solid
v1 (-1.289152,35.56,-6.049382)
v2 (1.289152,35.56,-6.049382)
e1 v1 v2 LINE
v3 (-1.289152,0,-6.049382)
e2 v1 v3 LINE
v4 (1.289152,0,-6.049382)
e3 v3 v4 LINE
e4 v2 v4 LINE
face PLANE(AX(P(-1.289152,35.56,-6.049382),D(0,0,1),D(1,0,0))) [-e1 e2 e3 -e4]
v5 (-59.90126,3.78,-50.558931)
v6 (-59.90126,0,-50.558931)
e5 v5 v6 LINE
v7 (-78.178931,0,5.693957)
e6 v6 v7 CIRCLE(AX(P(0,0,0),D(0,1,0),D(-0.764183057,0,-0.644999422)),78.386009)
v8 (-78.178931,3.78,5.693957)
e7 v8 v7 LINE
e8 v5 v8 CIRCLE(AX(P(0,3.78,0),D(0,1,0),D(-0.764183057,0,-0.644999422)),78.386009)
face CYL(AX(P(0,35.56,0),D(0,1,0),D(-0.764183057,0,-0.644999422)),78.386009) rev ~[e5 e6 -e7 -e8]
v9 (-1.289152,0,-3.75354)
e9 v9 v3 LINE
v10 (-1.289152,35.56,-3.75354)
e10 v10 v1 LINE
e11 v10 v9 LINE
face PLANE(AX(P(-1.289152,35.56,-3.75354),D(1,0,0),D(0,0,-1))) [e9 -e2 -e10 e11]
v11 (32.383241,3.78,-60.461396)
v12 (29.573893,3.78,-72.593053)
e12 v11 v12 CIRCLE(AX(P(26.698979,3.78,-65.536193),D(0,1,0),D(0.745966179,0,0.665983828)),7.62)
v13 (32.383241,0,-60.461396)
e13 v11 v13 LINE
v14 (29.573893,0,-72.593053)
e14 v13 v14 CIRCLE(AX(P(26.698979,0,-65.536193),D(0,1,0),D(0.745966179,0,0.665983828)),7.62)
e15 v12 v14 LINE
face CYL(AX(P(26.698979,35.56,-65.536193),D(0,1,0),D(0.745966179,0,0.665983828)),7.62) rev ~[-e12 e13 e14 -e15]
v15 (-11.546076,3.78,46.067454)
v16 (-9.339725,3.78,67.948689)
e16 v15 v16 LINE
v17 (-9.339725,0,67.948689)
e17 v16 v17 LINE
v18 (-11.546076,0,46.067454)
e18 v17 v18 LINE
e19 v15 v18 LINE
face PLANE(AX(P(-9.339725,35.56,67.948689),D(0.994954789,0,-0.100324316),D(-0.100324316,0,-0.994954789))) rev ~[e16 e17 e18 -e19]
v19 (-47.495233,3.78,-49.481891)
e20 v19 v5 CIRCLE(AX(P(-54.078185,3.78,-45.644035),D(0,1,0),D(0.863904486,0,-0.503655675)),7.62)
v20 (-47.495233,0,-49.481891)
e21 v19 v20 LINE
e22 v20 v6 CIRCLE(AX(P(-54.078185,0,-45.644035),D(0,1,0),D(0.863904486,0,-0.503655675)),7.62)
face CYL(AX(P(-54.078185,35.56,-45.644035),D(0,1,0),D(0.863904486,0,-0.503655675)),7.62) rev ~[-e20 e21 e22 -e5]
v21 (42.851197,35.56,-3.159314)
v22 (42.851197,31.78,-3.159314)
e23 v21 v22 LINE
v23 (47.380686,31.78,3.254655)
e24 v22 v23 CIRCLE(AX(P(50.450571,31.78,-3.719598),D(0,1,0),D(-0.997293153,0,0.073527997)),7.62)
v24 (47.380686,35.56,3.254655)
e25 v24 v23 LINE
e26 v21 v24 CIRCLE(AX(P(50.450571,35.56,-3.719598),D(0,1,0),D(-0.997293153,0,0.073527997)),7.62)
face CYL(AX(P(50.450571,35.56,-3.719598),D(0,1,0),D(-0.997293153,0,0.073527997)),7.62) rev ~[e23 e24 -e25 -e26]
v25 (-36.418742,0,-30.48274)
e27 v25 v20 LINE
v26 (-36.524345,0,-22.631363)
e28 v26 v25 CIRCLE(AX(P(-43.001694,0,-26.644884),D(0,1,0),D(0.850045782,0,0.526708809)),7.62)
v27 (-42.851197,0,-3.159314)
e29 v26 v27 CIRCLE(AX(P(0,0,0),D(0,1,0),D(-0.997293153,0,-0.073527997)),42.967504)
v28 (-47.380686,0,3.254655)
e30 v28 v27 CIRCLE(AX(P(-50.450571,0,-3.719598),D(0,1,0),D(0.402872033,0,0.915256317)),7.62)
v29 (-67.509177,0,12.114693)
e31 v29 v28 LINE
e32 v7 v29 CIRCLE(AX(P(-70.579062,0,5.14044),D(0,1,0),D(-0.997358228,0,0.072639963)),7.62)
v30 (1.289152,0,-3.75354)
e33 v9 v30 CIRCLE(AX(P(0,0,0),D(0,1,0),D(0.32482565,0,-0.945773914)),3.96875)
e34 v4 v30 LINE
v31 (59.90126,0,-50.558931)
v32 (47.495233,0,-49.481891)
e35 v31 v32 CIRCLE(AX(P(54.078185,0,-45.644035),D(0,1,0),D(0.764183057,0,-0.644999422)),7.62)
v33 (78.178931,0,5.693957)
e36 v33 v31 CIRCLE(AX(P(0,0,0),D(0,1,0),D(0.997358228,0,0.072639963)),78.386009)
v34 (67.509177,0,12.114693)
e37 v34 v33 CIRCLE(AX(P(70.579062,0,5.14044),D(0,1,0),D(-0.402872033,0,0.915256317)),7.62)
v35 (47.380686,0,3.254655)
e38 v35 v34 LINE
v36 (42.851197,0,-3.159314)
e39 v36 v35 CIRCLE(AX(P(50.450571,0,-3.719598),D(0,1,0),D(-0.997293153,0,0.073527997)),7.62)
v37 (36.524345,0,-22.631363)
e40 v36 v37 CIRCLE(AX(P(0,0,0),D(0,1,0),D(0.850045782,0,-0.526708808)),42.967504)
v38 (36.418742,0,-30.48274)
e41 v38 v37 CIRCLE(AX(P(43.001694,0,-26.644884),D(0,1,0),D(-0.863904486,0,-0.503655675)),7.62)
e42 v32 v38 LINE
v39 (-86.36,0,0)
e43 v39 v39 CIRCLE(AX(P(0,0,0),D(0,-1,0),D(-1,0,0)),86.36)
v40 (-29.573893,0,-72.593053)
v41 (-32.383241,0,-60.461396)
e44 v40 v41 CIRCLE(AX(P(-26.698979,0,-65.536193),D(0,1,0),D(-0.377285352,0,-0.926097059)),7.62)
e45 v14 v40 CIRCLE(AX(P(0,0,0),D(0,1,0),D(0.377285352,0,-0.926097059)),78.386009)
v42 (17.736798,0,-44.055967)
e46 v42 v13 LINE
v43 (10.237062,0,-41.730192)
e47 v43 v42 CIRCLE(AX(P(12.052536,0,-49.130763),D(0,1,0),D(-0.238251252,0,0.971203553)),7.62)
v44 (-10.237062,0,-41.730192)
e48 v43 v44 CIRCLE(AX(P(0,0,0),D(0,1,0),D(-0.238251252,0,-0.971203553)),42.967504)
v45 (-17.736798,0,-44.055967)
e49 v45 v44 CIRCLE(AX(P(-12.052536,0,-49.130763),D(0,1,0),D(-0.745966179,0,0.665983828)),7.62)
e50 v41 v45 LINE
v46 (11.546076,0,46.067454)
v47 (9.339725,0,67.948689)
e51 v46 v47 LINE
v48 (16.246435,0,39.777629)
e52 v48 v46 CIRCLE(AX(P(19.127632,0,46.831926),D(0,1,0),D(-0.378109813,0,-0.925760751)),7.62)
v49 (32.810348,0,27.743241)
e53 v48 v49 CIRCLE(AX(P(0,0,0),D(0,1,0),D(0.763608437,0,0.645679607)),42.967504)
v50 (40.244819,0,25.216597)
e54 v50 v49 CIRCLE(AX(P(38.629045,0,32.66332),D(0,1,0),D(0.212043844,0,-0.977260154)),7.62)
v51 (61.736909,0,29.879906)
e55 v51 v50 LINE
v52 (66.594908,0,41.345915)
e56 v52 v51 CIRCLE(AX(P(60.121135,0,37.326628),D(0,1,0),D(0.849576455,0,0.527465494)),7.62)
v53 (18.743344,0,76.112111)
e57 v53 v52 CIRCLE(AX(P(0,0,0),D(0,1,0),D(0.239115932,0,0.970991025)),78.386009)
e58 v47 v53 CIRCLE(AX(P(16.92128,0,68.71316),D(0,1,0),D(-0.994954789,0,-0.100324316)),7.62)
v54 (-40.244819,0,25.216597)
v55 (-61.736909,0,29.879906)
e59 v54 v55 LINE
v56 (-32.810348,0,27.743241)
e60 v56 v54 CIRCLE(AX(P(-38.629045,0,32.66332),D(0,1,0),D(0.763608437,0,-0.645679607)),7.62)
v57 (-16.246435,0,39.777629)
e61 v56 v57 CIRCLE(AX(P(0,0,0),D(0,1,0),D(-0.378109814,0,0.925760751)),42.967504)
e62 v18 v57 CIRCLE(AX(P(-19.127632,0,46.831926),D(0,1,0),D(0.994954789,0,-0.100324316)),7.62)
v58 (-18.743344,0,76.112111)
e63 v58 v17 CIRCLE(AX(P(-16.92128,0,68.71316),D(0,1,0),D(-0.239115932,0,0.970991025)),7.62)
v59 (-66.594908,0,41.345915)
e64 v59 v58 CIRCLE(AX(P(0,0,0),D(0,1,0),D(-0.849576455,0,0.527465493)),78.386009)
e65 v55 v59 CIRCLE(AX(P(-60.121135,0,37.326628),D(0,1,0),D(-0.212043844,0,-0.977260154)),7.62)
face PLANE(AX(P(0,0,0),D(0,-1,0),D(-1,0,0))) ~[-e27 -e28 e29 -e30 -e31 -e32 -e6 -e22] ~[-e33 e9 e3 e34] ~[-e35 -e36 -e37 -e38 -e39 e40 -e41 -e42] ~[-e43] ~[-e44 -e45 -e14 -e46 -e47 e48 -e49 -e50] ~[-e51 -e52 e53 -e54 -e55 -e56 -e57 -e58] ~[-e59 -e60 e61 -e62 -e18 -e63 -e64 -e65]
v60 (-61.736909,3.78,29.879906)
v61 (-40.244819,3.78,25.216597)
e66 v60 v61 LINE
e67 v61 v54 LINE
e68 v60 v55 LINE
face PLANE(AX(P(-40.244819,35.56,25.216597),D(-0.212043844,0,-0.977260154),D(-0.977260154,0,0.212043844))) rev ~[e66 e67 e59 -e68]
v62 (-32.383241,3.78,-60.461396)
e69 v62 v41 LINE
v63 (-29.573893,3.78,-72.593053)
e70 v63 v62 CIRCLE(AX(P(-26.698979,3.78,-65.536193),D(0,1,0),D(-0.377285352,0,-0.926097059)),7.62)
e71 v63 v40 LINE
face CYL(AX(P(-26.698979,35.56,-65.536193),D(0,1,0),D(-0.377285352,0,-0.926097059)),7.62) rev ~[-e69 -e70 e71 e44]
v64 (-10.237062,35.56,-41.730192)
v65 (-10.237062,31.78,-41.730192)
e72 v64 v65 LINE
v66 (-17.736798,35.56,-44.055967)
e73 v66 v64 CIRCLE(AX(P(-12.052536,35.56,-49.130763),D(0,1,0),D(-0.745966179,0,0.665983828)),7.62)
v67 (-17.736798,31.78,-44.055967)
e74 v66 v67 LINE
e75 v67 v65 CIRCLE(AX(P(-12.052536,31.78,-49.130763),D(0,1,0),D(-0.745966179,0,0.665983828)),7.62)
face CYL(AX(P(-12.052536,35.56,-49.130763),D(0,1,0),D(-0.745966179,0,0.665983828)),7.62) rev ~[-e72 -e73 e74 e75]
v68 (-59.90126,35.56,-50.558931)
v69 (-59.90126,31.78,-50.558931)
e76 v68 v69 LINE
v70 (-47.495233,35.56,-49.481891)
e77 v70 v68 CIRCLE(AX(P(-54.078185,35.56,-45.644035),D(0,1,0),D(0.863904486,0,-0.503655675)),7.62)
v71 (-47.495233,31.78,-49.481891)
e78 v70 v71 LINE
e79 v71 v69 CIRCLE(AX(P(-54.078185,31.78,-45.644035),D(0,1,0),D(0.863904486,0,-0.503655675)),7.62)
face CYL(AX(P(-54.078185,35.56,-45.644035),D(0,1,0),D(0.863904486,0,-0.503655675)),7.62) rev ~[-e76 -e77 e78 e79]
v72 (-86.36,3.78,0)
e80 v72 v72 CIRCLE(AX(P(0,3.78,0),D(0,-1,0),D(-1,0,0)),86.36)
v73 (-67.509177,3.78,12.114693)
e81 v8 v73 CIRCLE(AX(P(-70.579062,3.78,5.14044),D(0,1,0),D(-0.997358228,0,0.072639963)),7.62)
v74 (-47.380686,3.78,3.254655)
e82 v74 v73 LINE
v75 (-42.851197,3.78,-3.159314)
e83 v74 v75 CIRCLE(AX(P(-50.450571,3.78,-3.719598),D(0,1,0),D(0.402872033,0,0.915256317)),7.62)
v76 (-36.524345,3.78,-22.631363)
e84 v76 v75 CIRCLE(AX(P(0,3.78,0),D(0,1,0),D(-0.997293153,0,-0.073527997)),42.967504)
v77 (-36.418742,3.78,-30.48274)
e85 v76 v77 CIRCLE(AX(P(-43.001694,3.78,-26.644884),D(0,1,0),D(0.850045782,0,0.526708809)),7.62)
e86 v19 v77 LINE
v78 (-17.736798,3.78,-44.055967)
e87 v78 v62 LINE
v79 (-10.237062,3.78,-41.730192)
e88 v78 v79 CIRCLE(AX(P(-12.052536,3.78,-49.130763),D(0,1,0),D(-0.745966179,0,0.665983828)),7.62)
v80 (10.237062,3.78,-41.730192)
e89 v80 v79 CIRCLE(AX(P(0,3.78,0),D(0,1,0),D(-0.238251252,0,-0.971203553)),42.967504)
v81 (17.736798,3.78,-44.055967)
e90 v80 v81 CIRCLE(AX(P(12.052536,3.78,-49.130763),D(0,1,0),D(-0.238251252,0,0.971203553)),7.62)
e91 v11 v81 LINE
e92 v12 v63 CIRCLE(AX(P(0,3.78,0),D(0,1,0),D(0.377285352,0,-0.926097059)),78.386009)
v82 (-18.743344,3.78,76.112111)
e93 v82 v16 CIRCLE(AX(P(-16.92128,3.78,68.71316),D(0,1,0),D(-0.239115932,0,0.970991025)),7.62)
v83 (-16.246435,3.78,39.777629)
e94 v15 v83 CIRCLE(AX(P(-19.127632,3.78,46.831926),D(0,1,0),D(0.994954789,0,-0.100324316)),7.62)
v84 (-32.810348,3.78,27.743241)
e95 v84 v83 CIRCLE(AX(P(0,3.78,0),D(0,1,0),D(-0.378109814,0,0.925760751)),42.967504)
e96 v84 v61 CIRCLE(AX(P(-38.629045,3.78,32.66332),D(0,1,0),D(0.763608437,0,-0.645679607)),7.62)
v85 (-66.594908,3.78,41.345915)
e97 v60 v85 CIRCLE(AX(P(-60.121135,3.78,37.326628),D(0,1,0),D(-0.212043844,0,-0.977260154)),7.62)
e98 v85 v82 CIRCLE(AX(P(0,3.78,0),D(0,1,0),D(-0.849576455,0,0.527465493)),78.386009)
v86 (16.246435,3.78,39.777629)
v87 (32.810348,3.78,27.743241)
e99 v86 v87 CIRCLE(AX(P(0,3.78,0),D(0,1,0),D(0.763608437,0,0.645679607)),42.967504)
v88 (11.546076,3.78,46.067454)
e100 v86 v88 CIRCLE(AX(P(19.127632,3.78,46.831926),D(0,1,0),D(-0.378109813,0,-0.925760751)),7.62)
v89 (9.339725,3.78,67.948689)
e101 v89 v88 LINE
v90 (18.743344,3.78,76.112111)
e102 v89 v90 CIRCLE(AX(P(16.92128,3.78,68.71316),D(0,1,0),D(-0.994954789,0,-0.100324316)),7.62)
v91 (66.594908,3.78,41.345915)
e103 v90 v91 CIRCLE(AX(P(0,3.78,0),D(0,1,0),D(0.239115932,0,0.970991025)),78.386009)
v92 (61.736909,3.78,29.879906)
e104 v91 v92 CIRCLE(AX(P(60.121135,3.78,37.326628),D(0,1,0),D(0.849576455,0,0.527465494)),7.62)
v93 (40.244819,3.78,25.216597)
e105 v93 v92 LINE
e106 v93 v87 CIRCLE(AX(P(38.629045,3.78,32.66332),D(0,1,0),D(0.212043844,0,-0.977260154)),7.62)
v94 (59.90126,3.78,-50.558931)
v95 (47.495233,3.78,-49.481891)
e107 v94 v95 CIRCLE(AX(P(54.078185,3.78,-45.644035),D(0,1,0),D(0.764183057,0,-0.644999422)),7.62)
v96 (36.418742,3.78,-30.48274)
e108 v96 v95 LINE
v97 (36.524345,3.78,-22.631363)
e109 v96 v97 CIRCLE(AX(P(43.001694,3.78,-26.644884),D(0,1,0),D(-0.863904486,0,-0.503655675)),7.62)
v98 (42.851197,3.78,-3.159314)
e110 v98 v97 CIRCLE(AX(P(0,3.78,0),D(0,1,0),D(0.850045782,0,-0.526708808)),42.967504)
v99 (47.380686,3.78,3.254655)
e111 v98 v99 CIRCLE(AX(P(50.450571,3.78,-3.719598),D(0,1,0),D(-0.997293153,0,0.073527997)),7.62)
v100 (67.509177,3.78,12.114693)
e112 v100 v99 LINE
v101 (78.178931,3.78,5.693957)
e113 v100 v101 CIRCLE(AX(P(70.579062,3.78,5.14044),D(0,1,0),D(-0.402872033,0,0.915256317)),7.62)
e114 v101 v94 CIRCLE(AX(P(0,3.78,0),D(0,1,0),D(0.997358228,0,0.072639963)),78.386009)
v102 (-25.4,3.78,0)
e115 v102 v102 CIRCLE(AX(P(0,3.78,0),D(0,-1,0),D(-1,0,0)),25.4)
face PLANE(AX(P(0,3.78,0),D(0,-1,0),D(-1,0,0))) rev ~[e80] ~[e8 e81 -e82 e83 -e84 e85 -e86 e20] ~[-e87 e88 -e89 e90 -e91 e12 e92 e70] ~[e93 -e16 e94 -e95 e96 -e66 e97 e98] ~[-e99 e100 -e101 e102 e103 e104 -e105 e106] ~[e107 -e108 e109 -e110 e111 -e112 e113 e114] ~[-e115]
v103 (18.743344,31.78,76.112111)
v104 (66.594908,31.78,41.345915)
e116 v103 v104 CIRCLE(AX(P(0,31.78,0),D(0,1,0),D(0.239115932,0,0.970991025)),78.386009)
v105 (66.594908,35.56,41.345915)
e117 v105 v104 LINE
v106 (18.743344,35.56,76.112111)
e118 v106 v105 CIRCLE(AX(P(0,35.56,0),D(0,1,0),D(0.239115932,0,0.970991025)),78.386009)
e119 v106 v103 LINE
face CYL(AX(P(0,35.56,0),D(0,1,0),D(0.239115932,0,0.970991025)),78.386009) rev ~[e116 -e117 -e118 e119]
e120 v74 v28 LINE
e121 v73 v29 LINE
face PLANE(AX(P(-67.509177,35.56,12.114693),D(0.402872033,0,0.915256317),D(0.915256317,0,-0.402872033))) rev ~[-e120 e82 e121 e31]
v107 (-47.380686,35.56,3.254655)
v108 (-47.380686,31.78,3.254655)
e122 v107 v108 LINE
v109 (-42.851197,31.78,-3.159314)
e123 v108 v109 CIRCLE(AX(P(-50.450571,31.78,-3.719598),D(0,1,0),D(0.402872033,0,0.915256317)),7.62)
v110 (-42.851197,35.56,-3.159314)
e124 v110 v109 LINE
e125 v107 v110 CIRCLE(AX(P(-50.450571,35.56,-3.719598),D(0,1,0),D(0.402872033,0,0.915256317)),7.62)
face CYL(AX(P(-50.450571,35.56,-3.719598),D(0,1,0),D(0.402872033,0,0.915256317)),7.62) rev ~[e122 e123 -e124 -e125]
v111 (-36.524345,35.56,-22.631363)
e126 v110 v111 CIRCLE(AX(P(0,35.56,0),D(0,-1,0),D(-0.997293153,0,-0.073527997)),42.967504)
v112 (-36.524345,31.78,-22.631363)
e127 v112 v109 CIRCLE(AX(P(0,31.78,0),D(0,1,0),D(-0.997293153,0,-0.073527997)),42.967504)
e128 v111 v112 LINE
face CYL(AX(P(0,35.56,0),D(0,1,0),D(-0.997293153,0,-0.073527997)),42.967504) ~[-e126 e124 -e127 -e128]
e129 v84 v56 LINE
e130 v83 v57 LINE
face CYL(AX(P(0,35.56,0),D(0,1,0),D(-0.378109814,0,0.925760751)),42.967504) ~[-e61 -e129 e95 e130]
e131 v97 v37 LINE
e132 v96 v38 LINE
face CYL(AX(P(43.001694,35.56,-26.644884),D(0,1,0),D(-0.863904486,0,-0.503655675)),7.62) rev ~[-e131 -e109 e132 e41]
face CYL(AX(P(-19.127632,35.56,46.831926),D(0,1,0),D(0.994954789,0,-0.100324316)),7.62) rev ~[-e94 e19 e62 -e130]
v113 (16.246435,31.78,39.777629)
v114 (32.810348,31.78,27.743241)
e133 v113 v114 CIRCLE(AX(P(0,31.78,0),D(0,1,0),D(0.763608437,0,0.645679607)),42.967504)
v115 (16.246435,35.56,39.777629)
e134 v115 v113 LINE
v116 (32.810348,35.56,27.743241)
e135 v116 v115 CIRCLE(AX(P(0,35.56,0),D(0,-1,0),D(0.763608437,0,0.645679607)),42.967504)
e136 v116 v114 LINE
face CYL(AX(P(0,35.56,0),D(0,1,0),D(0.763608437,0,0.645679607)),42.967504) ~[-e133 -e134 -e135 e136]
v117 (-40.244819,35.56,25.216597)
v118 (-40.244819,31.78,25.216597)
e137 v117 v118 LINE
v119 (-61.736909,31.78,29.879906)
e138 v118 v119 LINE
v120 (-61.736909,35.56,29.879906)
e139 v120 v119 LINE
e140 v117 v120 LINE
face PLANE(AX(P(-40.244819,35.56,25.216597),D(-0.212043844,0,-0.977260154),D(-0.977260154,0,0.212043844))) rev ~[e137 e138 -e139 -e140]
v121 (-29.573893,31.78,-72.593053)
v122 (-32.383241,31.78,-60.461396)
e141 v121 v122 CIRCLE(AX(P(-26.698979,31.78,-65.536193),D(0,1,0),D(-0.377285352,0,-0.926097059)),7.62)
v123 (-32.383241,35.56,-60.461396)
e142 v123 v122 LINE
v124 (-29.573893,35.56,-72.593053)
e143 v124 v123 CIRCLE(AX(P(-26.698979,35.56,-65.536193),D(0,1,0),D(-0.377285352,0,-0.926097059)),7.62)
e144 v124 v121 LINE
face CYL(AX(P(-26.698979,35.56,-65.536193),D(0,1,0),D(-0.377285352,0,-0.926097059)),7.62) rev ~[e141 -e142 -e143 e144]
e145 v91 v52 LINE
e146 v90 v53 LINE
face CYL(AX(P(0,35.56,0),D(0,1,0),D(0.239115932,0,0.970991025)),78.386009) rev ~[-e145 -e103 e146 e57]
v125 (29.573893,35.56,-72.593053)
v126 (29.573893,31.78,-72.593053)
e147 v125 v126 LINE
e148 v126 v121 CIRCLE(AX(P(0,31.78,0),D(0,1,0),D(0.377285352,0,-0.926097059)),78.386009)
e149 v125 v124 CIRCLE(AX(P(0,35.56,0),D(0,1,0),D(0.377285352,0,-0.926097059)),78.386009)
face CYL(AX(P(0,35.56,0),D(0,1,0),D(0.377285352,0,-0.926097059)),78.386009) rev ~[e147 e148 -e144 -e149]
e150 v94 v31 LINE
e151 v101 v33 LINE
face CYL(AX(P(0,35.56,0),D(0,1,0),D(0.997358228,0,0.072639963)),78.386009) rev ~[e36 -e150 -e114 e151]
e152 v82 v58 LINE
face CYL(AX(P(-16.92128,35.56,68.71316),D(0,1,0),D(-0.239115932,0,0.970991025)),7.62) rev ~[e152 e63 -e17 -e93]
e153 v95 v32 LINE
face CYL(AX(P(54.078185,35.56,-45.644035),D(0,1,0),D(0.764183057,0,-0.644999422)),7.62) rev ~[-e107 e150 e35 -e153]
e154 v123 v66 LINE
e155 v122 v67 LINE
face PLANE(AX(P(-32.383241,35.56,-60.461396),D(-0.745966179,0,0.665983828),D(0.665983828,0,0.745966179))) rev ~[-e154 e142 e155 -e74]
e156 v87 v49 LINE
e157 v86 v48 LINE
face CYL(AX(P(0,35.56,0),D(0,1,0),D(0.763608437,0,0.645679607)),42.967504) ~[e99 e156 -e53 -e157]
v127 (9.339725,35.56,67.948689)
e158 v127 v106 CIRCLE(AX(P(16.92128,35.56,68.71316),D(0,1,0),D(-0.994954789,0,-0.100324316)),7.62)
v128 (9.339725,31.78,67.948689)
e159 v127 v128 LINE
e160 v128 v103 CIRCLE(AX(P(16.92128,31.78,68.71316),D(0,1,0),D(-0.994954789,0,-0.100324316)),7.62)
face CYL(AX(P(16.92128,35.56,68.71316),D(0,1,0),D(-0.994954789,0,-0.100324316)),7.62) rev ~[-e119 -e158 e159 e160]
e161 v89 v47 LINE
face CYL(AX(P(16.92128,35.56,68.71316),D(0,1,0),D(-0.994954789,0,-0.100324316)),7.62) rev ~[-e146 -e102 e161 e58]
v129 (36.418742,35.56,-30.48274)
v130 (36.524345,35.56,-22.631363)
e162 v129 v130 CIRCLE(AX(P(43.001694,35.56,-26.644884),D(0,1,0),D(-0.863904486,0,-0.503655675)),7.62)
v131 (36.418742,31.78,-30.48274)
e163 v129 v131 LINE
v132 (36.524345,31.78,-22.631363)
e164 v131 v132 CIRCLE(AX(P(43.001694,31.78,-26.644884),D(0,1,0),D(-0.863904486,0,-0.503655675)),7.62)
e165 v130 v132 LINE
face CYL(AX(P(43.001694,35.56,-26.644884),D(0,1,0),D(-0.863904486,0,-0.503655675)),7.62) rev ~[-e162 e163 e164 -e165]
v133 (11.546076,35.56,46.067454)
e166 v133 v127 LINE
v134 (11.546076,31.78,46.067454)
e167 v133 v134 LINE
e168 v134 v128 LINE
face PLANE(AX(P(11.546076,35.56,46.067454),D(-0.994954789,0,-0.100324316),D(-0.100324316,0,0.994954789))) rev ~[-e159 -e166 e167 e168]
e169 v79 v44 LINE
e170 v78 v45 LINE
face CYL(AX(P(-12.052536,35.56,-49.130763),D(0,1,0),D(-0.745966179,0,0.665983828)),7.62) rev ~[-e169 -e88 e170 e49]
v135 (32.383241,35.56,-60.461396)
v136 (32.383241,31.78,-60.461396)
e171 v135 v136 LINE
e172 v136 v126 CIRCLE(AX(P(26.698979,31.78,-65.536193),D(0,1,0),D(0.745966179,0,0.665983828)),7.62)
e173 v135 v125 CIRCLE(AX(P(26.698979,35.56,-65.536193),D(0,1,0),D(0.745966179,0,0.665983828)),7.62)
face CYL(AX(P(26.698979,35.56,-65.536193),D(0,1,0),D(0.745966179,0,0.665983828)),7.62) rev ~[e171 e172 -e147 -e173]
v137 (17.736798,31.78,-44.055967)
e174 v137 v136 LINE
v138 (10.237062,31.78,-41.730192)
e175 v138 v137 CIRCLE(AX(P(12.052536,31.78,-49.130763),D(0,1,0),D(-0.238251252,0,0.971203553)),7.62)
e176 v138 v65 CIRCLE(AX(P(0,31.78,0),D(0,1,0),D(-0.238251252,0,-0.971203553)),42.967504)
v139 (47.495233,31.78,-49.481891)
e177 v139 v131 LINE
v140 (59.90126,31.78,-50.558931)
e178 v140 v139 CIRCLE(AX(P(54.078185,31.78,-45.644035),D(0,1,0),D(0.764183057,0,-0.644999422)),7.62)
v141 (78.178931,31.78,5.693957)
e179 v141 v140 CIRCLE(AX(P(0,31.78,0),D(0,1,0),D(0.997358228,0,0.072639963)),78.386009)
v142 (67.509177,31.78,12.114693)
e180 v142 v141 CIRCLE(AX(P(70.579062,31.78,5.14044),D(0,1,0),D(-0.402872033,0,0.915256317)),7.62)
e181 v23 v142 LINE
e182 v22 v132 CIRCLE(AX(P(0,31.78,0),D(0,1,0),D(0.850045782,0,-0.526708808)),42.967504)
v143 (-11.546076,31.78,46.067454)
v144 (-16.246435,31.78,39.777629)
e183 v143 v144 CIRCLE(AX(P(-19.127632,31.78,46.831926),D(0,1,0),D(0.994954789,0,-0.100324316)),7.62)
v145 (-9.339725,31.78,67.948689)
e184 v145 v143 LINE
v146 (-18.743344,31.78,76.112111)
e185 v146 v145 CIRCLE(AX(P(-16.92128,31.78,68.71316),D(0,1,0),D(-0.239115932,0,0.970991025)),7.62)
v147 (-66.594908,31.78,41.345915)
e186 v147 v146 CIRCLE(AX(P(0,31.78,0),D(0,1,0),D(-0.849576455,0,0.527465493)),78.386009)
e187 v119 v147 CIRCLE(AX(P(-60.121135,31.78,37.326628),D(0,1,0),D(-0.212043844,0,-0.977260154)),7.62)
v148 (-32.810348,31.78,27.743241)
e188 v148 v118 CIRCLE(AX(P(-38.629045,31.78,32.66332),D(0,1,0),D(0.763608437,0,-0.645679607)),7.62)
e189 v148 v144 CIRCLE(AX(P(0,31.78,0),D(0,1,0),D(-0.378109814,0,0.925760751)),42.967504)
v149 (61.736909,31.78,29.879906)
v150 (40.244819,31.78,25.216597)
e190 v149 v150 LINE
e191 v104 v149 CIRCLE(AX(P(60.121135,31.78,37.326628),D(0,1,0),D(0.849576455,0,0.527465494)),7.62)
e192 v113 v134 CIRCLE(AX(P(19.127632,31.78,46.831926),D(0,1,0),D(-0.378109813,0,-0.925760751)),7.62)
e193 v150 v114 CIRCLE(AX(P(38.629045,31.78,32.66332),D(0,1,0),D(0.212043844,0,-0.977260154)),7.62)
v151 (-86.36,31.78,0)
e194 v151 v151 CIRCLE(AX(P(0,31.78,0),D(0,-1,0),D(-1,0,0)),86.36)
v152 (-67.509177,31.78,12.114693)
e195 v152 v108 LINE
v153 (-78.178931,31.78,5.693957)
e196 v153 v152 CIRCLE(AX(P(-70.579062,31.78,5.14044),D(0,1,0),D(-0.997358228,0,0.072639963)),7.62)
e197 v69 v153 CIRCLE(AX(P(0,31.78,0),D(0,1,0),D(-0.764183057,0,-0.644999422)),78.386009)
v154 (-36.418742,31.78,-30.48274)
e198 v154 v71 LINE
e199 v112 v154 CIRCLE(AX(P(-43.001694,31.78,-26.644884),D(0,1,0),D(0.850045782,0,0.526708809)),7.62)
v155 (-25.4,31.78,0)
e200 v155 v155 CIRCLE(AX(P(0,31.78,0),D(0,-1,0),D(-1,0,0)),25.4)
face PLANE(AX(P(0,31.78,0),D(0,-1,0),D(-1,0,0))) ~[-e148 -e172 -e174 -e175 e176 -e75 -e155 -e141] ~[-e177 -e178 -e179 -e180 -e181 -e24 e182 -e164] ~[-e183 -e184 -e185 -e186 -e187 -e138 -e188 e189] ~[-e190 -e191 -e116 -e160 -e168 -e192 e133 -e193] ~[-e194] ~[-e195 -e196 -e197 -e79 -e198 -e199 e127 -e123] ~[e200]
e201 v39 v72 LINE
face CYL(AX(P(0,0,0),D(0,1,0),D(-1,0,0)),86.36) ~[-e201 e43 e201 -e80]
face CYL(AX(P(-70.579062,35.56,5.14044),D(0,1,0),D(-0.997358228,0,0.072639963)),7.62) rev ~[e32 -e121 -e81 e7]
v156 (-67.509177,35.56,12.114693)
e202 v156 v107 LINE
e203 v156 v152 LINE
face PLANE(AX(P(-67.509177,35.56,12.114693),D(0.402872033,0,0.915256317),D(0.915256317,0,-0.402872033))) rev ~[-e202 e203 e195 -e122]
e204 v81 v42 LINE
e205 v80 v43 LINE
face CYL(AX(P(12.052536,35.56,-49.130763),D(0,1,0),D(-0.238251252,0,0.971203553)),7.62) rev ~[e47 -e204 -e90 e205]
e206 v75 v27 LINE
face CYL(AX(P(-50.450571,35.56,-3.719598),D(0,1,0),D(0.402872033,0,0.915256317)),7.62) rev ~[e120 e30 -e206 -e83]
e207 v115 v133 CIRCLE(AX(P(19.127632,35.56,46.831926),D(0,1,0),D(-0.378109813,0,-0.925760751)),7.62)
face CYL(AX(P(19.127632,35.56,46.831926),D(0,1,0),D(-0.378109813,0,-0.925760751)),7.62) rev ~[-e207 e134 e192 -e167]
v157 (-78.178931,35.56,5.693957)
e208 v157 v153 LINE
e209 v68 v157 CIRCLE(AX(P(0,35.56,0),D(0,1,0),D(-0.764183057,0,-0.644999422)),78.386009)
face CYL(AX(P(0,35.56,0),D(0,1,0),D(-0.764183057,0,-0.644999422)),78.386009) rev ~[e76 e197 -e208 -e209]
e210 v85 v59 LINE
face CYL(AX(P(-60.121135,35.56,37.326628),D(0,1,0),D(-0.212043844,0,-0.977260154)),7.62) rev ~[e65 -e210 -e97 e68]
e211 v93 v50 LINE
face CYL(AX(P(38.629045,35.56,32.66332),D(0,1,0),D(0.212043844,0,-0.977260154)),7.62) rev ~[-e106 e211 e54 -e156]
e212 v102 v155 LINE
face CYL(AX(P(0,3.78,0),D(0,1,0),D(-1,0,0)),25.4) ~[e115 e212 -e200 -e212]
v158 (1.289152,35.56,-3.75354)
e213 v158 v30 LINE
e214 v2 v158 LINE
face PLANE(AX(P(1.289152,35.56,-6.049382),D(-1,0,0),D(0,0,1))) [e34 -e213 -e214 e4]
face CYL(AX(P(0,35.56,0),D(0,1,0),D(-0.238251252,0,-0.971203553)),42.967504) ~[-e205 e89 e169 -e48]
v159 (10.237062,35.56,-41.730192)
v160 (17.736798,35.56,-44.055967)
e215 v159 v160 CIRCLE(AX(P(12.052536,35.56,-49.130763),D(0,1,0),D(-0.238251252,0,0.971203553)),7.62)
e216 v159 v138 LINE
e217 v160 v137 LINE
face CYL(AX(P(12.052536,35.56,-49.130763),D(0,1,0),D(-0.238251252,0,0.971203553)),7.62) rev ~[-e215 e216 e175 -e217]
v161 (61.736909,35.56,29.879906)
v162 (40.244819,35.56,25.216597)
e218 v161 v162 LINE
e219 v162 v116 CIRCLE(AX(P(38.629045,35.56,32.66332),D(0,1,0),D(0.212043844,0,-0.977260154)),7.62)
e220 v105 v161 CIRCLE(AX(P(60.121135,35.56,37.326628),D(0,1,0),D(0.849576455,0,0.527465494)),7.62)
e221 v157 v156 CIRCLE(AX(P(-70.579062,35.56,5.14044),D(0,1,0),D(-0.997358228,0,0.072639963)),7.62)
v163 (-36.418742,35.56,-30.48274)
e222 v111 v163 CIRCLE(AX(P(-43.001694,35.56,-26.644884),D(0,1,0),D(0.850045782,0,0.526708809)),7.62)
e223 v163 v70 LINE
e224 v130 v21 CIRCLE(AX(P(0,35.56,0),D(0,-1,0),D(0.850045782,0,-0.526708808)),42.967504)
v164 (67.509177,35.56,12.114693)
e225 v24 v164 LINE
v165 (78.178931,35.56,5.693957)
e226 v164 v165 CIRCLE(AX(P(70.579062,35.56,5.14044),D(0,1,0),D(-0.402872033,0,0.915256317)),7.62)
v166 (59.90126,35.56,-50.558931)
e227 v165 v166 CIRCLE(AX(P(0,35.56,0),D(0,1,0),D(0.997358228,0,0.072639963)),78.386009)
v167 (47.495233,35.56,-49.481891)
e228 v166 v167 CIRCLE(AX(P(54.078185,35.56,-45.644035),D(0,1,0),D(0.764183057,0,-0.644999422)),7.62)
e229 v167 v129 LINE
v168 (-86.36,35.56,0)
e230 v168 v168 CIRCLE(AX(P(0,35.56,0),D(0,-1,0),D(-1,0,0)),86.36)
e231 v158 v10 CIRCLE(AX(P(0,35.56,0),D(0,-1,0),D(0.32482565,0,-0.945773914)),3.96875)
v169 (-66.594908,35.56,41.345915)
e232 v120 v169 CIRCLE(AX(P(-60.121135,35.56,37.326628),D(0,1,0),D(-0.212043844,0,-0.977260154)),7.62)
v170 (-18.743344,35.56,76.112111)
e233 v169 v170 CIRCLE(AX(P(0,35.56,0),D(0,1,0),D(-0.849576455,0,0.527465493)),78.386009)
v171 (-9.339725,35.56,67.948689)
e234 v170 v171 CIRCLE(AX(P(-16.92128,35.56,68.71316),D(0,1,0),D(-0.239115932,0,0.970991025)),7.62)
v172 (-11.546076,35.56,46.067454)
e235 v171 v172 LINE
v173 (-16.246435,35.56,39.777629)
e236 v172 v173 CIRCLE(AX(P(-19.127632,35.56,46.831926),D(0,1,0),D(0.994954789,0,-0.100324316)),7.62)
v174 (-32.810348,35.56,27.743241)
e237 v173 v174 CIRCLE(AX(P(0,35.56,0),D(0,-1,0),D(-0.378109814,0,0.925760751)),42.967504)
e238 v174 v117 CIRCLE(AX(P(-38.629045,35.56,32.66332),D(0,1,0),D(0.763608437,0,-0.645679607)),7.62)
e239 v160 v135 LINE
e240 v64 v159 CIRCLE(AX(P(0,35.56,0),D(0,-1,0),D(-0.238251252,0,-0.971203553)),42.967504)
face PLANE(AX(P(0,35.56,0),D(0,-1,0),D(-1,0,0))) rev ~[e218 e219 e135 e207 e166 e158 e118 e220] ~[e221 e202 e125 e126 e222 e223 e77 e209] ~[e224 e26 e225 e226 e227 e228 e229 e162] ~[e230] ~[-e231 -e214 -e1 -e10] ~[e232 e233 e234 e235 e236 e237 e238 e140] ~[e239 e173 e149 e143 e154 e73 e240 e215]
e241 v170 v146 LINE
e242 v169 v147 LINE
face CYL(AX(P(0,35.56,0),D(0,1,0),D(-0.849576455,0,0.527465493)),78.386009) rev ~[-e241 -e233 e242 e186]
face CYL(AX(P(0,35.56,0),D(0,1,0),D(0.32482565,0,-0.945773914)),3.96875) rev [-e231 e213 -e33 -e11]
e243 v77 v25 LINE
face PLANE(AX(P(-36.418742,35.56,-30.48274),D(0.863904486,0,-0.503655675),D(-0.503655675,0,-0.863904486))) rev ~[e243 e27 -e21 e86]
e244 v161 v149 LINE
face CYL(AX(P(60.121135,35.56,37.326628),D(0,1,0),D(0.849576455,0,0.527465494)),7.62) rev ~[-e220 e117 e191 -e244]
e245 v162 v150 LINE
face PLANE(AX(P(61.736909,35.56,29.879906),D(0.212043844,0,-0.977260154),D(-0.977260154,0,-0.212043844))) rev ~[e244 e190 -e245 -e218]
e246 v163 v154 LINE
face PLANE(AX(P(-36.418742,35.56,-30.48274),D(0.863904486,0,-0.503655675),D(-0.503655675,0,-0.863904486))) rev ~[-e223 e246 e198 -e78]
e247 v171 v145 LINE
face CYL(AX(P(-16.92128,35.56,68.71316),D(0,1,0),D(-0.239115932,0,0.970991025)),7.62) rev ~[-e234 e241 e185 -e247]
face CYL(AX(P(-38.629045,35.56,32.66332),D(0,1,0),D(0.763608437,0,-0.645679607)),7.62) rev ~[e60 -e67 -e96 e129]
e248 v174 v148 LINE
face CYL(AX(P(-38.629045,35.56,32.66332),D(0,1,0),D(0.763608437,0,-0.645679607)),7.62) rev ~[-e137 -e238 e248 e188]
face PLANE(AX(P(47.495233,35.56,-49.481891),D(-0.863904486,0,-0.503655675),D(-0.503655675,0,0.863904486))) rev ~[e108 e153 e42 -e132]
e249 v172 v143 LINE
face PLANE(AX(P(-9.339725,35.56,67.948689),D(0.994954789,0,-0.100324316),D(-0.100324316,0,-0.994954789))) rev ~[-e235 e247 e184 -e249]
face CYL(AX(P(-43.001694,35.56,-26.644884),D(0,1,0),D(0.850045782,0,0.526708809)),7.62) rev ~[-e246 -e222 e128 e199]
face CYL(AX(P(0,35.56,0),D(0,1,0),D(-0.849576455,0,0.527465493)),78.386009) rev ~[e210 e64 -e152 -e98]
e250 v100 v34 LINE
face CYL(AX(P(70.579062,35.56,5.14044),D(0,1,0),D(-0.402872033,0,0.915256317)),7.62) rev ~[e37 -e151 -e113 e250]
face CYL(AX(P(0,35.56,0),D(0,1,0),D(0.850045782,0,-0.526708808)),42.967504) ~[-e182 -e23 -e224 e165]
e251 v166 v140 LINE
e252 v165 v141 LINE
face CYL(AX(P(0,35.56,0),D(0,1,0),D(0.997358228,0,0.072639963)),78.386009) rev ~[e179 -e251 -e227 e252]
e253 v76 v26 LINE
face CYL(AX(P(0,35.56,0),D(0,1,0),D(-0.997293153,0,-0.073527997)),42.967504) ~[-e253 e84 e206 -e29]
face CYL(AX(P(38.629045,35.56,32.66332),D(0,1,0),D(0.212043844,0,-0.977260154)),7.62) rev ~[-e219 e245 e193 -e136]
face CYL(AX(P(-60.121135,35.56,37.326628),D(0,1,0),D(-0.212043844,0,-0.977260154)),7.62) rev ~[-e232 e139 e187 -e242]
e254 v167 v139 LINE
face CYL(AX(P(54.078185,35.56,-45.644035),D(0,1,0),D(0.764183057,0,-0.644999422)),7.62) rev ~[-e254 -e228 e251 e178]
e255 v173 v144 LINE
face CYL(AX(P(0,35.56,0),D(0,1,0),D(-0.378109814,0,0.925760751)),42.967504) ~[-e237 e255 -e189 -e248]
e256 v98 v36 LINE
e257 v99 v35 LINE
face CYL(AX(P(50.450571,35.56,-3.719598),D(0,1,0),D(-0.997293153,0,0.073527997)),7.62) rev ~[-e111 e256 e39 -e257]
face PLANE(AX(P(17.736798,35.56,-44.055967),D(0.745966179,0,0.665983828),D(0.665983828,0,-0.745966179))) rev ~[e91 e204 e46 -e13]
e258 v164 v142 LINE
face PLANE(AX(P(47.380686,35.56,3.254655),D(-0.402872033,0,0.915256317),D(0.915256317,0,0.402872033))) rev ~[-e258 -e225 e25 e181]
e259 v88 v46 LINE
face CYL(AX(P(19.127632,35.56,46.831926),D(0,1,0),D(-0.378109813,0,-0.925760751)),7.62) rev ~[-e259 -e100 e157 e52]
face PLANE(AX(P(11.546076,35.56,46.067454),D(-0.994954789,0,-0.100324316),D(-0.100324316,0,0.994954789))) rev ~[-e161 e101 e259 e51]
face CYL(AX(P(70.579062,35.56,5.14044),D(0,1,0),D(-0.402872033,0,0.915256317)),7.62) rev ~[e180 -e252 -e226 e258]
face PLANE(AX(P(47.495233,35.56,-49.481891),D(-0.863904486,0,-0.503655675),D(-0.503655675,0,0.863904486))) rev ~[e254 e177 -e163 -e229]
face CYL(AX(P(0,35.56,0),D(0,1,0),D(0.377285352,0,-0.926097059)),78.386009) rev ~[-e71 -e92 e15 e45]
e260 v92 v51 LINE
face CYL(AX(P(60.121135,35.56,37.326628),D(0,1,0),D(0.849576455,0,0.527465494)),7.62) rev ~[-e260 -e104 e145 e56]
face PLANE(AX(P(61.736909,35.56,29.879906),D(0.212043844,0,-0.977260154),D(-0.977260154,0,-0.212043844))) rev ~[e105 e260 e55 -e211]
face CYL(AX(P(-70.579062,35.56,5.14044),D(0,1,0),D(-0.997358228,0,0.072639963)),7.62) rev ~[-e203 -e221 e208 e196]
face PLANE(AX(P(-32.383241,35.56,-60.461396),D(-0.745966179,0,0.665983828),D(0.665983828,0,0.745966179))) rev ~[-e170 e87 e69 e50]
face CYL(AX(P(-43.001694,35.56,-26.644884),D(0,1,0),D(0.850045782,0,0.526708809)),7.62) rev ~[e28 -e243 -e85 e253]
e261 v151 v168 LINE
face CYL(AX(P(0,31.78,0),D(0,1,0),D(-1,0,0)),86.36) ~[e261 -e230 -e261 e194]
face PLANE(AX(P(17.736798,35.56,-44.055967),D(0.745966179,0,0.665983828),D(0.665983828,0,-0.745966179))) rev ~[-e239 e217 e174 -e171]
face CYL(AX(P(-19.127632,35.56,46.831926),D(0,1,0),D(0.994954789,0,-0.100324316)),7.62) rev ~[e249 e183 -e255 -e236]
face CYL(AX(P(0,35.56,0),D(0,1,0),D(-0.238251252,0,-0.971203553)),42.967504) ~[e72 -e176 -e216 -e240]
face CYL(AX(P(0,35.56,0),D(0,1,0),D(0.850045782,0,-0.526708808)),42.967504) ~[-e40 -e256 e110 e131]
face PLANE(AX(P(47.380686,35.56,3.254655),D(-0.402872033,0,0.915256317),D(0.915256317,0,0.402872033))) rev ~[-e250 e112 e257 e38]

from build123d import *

# Parameters (mm, degrees)
CUT_EXTRUDE1_DEPTH = 128.2030377
CIRPATTERN1_COUNT  = 5
CUT_EXTRUDE2_DEPTH = 128.2030377


with BuildPart() as part:
    # Sketch1 → Revolve1 (revolve)
    with BuildSketch(Plane.XY, mode=Mode.PRIVATE) as revolve1_sk:
        Polygon((0, 0), (86.36, 0), (86.36, 3.78), (25.4, 3.78), (25.4, 31.78), (86.36, 31.78), (86.36, 35.56), (0, 35.56), align=None)
    revolve(revolve1_sk.sketch.rotate(Axis((0, 35.56, 0), (0, -1, 0)), 180), axis=Axis((0, 35.56, 0), (0, -1, 0)))

    # Sketch2 → Cut-Extrude1 (cut, through all)
    with BuildSketch(Plane(origin=(0, 35.56, 0), x_dir=(1, 0, 0), z_dir=(0, 1, 0))):
        with BuildLine():
            Line((-32.38324098, 60.461396247), (-17.736798391, 44.055966634))
            ThreePointArc((-17.736798391, 44.055966634), (-14.309566496, 41.852699526), (-10.237061566, 41.730192332))
            ThreePointArc((-10.237061566, 41.730192332), (0, 42.967503786), (10.237061566, 41.730192332))
            ThreePointArc((10.237061566, 41.730192332), (14.309566496, 41.852699526), (17.736798391, 44.055966634))
            Line((17.736798391, 44.055966634), (32.38324098, 60.461396247))
            ThreePointArc((32.38324098, 60.461396247), (34.12253228, 67.255277706), (29.573893077, 72.593052609))
            ThreePointArc((29.573893077, 72.593052609), (0, 78.386009204), (-29.573893077, 72.593052609))
            ThreePointArc((-29.573893077, 72.593052609), (-34.12253228, 67.255277706), (-32.38324098, 60.461396247))
        make_face()
    cut_extrude1 = extrude(amount=-CUT_EXTRUDE1_DEPTH, mode=Mode.SUBTRACT)

    # CirPattern1: Cut-Extrude1 ×5 about axis
    cirpattern1_axis = Axis((0, 0, 0), (0, 1, 0))
    for i in range(1, CIRPATTERN1_COUNT):
        add(cut_extrude1.rotate(cirpattern1_axis, i * 360 / CIRPATTERN1_COUNT), mode=Mode.SUBTRACT)

    # Sketch3 → Cut-Extrude2 (cut, through all)
    with BuildSketch(Plane(origin=(0, 35.56, 0), x_dir=(1, 0, 0), z_dir=(0, 1, 0))):
        with BuildLine():
            Line((-1.2891518, 3.753540222), (-1.2891518, 6.049382139))
            Line((-1.2891518, 6.049382139), (1.2891518, 6.049382139))
            Line((1.2891518, 6.049382139), (1.2891518, 3.753540222))
            ThreePointArc((1.2891518, 3.753540222), (0, -3.96875), (-1.2891518, 3.753540222))
        make_face()
    extrude(amount=-CUT_EXTRUDE2_DEPTH, mode=Mode.SUBTRACT)


solid = part.part
